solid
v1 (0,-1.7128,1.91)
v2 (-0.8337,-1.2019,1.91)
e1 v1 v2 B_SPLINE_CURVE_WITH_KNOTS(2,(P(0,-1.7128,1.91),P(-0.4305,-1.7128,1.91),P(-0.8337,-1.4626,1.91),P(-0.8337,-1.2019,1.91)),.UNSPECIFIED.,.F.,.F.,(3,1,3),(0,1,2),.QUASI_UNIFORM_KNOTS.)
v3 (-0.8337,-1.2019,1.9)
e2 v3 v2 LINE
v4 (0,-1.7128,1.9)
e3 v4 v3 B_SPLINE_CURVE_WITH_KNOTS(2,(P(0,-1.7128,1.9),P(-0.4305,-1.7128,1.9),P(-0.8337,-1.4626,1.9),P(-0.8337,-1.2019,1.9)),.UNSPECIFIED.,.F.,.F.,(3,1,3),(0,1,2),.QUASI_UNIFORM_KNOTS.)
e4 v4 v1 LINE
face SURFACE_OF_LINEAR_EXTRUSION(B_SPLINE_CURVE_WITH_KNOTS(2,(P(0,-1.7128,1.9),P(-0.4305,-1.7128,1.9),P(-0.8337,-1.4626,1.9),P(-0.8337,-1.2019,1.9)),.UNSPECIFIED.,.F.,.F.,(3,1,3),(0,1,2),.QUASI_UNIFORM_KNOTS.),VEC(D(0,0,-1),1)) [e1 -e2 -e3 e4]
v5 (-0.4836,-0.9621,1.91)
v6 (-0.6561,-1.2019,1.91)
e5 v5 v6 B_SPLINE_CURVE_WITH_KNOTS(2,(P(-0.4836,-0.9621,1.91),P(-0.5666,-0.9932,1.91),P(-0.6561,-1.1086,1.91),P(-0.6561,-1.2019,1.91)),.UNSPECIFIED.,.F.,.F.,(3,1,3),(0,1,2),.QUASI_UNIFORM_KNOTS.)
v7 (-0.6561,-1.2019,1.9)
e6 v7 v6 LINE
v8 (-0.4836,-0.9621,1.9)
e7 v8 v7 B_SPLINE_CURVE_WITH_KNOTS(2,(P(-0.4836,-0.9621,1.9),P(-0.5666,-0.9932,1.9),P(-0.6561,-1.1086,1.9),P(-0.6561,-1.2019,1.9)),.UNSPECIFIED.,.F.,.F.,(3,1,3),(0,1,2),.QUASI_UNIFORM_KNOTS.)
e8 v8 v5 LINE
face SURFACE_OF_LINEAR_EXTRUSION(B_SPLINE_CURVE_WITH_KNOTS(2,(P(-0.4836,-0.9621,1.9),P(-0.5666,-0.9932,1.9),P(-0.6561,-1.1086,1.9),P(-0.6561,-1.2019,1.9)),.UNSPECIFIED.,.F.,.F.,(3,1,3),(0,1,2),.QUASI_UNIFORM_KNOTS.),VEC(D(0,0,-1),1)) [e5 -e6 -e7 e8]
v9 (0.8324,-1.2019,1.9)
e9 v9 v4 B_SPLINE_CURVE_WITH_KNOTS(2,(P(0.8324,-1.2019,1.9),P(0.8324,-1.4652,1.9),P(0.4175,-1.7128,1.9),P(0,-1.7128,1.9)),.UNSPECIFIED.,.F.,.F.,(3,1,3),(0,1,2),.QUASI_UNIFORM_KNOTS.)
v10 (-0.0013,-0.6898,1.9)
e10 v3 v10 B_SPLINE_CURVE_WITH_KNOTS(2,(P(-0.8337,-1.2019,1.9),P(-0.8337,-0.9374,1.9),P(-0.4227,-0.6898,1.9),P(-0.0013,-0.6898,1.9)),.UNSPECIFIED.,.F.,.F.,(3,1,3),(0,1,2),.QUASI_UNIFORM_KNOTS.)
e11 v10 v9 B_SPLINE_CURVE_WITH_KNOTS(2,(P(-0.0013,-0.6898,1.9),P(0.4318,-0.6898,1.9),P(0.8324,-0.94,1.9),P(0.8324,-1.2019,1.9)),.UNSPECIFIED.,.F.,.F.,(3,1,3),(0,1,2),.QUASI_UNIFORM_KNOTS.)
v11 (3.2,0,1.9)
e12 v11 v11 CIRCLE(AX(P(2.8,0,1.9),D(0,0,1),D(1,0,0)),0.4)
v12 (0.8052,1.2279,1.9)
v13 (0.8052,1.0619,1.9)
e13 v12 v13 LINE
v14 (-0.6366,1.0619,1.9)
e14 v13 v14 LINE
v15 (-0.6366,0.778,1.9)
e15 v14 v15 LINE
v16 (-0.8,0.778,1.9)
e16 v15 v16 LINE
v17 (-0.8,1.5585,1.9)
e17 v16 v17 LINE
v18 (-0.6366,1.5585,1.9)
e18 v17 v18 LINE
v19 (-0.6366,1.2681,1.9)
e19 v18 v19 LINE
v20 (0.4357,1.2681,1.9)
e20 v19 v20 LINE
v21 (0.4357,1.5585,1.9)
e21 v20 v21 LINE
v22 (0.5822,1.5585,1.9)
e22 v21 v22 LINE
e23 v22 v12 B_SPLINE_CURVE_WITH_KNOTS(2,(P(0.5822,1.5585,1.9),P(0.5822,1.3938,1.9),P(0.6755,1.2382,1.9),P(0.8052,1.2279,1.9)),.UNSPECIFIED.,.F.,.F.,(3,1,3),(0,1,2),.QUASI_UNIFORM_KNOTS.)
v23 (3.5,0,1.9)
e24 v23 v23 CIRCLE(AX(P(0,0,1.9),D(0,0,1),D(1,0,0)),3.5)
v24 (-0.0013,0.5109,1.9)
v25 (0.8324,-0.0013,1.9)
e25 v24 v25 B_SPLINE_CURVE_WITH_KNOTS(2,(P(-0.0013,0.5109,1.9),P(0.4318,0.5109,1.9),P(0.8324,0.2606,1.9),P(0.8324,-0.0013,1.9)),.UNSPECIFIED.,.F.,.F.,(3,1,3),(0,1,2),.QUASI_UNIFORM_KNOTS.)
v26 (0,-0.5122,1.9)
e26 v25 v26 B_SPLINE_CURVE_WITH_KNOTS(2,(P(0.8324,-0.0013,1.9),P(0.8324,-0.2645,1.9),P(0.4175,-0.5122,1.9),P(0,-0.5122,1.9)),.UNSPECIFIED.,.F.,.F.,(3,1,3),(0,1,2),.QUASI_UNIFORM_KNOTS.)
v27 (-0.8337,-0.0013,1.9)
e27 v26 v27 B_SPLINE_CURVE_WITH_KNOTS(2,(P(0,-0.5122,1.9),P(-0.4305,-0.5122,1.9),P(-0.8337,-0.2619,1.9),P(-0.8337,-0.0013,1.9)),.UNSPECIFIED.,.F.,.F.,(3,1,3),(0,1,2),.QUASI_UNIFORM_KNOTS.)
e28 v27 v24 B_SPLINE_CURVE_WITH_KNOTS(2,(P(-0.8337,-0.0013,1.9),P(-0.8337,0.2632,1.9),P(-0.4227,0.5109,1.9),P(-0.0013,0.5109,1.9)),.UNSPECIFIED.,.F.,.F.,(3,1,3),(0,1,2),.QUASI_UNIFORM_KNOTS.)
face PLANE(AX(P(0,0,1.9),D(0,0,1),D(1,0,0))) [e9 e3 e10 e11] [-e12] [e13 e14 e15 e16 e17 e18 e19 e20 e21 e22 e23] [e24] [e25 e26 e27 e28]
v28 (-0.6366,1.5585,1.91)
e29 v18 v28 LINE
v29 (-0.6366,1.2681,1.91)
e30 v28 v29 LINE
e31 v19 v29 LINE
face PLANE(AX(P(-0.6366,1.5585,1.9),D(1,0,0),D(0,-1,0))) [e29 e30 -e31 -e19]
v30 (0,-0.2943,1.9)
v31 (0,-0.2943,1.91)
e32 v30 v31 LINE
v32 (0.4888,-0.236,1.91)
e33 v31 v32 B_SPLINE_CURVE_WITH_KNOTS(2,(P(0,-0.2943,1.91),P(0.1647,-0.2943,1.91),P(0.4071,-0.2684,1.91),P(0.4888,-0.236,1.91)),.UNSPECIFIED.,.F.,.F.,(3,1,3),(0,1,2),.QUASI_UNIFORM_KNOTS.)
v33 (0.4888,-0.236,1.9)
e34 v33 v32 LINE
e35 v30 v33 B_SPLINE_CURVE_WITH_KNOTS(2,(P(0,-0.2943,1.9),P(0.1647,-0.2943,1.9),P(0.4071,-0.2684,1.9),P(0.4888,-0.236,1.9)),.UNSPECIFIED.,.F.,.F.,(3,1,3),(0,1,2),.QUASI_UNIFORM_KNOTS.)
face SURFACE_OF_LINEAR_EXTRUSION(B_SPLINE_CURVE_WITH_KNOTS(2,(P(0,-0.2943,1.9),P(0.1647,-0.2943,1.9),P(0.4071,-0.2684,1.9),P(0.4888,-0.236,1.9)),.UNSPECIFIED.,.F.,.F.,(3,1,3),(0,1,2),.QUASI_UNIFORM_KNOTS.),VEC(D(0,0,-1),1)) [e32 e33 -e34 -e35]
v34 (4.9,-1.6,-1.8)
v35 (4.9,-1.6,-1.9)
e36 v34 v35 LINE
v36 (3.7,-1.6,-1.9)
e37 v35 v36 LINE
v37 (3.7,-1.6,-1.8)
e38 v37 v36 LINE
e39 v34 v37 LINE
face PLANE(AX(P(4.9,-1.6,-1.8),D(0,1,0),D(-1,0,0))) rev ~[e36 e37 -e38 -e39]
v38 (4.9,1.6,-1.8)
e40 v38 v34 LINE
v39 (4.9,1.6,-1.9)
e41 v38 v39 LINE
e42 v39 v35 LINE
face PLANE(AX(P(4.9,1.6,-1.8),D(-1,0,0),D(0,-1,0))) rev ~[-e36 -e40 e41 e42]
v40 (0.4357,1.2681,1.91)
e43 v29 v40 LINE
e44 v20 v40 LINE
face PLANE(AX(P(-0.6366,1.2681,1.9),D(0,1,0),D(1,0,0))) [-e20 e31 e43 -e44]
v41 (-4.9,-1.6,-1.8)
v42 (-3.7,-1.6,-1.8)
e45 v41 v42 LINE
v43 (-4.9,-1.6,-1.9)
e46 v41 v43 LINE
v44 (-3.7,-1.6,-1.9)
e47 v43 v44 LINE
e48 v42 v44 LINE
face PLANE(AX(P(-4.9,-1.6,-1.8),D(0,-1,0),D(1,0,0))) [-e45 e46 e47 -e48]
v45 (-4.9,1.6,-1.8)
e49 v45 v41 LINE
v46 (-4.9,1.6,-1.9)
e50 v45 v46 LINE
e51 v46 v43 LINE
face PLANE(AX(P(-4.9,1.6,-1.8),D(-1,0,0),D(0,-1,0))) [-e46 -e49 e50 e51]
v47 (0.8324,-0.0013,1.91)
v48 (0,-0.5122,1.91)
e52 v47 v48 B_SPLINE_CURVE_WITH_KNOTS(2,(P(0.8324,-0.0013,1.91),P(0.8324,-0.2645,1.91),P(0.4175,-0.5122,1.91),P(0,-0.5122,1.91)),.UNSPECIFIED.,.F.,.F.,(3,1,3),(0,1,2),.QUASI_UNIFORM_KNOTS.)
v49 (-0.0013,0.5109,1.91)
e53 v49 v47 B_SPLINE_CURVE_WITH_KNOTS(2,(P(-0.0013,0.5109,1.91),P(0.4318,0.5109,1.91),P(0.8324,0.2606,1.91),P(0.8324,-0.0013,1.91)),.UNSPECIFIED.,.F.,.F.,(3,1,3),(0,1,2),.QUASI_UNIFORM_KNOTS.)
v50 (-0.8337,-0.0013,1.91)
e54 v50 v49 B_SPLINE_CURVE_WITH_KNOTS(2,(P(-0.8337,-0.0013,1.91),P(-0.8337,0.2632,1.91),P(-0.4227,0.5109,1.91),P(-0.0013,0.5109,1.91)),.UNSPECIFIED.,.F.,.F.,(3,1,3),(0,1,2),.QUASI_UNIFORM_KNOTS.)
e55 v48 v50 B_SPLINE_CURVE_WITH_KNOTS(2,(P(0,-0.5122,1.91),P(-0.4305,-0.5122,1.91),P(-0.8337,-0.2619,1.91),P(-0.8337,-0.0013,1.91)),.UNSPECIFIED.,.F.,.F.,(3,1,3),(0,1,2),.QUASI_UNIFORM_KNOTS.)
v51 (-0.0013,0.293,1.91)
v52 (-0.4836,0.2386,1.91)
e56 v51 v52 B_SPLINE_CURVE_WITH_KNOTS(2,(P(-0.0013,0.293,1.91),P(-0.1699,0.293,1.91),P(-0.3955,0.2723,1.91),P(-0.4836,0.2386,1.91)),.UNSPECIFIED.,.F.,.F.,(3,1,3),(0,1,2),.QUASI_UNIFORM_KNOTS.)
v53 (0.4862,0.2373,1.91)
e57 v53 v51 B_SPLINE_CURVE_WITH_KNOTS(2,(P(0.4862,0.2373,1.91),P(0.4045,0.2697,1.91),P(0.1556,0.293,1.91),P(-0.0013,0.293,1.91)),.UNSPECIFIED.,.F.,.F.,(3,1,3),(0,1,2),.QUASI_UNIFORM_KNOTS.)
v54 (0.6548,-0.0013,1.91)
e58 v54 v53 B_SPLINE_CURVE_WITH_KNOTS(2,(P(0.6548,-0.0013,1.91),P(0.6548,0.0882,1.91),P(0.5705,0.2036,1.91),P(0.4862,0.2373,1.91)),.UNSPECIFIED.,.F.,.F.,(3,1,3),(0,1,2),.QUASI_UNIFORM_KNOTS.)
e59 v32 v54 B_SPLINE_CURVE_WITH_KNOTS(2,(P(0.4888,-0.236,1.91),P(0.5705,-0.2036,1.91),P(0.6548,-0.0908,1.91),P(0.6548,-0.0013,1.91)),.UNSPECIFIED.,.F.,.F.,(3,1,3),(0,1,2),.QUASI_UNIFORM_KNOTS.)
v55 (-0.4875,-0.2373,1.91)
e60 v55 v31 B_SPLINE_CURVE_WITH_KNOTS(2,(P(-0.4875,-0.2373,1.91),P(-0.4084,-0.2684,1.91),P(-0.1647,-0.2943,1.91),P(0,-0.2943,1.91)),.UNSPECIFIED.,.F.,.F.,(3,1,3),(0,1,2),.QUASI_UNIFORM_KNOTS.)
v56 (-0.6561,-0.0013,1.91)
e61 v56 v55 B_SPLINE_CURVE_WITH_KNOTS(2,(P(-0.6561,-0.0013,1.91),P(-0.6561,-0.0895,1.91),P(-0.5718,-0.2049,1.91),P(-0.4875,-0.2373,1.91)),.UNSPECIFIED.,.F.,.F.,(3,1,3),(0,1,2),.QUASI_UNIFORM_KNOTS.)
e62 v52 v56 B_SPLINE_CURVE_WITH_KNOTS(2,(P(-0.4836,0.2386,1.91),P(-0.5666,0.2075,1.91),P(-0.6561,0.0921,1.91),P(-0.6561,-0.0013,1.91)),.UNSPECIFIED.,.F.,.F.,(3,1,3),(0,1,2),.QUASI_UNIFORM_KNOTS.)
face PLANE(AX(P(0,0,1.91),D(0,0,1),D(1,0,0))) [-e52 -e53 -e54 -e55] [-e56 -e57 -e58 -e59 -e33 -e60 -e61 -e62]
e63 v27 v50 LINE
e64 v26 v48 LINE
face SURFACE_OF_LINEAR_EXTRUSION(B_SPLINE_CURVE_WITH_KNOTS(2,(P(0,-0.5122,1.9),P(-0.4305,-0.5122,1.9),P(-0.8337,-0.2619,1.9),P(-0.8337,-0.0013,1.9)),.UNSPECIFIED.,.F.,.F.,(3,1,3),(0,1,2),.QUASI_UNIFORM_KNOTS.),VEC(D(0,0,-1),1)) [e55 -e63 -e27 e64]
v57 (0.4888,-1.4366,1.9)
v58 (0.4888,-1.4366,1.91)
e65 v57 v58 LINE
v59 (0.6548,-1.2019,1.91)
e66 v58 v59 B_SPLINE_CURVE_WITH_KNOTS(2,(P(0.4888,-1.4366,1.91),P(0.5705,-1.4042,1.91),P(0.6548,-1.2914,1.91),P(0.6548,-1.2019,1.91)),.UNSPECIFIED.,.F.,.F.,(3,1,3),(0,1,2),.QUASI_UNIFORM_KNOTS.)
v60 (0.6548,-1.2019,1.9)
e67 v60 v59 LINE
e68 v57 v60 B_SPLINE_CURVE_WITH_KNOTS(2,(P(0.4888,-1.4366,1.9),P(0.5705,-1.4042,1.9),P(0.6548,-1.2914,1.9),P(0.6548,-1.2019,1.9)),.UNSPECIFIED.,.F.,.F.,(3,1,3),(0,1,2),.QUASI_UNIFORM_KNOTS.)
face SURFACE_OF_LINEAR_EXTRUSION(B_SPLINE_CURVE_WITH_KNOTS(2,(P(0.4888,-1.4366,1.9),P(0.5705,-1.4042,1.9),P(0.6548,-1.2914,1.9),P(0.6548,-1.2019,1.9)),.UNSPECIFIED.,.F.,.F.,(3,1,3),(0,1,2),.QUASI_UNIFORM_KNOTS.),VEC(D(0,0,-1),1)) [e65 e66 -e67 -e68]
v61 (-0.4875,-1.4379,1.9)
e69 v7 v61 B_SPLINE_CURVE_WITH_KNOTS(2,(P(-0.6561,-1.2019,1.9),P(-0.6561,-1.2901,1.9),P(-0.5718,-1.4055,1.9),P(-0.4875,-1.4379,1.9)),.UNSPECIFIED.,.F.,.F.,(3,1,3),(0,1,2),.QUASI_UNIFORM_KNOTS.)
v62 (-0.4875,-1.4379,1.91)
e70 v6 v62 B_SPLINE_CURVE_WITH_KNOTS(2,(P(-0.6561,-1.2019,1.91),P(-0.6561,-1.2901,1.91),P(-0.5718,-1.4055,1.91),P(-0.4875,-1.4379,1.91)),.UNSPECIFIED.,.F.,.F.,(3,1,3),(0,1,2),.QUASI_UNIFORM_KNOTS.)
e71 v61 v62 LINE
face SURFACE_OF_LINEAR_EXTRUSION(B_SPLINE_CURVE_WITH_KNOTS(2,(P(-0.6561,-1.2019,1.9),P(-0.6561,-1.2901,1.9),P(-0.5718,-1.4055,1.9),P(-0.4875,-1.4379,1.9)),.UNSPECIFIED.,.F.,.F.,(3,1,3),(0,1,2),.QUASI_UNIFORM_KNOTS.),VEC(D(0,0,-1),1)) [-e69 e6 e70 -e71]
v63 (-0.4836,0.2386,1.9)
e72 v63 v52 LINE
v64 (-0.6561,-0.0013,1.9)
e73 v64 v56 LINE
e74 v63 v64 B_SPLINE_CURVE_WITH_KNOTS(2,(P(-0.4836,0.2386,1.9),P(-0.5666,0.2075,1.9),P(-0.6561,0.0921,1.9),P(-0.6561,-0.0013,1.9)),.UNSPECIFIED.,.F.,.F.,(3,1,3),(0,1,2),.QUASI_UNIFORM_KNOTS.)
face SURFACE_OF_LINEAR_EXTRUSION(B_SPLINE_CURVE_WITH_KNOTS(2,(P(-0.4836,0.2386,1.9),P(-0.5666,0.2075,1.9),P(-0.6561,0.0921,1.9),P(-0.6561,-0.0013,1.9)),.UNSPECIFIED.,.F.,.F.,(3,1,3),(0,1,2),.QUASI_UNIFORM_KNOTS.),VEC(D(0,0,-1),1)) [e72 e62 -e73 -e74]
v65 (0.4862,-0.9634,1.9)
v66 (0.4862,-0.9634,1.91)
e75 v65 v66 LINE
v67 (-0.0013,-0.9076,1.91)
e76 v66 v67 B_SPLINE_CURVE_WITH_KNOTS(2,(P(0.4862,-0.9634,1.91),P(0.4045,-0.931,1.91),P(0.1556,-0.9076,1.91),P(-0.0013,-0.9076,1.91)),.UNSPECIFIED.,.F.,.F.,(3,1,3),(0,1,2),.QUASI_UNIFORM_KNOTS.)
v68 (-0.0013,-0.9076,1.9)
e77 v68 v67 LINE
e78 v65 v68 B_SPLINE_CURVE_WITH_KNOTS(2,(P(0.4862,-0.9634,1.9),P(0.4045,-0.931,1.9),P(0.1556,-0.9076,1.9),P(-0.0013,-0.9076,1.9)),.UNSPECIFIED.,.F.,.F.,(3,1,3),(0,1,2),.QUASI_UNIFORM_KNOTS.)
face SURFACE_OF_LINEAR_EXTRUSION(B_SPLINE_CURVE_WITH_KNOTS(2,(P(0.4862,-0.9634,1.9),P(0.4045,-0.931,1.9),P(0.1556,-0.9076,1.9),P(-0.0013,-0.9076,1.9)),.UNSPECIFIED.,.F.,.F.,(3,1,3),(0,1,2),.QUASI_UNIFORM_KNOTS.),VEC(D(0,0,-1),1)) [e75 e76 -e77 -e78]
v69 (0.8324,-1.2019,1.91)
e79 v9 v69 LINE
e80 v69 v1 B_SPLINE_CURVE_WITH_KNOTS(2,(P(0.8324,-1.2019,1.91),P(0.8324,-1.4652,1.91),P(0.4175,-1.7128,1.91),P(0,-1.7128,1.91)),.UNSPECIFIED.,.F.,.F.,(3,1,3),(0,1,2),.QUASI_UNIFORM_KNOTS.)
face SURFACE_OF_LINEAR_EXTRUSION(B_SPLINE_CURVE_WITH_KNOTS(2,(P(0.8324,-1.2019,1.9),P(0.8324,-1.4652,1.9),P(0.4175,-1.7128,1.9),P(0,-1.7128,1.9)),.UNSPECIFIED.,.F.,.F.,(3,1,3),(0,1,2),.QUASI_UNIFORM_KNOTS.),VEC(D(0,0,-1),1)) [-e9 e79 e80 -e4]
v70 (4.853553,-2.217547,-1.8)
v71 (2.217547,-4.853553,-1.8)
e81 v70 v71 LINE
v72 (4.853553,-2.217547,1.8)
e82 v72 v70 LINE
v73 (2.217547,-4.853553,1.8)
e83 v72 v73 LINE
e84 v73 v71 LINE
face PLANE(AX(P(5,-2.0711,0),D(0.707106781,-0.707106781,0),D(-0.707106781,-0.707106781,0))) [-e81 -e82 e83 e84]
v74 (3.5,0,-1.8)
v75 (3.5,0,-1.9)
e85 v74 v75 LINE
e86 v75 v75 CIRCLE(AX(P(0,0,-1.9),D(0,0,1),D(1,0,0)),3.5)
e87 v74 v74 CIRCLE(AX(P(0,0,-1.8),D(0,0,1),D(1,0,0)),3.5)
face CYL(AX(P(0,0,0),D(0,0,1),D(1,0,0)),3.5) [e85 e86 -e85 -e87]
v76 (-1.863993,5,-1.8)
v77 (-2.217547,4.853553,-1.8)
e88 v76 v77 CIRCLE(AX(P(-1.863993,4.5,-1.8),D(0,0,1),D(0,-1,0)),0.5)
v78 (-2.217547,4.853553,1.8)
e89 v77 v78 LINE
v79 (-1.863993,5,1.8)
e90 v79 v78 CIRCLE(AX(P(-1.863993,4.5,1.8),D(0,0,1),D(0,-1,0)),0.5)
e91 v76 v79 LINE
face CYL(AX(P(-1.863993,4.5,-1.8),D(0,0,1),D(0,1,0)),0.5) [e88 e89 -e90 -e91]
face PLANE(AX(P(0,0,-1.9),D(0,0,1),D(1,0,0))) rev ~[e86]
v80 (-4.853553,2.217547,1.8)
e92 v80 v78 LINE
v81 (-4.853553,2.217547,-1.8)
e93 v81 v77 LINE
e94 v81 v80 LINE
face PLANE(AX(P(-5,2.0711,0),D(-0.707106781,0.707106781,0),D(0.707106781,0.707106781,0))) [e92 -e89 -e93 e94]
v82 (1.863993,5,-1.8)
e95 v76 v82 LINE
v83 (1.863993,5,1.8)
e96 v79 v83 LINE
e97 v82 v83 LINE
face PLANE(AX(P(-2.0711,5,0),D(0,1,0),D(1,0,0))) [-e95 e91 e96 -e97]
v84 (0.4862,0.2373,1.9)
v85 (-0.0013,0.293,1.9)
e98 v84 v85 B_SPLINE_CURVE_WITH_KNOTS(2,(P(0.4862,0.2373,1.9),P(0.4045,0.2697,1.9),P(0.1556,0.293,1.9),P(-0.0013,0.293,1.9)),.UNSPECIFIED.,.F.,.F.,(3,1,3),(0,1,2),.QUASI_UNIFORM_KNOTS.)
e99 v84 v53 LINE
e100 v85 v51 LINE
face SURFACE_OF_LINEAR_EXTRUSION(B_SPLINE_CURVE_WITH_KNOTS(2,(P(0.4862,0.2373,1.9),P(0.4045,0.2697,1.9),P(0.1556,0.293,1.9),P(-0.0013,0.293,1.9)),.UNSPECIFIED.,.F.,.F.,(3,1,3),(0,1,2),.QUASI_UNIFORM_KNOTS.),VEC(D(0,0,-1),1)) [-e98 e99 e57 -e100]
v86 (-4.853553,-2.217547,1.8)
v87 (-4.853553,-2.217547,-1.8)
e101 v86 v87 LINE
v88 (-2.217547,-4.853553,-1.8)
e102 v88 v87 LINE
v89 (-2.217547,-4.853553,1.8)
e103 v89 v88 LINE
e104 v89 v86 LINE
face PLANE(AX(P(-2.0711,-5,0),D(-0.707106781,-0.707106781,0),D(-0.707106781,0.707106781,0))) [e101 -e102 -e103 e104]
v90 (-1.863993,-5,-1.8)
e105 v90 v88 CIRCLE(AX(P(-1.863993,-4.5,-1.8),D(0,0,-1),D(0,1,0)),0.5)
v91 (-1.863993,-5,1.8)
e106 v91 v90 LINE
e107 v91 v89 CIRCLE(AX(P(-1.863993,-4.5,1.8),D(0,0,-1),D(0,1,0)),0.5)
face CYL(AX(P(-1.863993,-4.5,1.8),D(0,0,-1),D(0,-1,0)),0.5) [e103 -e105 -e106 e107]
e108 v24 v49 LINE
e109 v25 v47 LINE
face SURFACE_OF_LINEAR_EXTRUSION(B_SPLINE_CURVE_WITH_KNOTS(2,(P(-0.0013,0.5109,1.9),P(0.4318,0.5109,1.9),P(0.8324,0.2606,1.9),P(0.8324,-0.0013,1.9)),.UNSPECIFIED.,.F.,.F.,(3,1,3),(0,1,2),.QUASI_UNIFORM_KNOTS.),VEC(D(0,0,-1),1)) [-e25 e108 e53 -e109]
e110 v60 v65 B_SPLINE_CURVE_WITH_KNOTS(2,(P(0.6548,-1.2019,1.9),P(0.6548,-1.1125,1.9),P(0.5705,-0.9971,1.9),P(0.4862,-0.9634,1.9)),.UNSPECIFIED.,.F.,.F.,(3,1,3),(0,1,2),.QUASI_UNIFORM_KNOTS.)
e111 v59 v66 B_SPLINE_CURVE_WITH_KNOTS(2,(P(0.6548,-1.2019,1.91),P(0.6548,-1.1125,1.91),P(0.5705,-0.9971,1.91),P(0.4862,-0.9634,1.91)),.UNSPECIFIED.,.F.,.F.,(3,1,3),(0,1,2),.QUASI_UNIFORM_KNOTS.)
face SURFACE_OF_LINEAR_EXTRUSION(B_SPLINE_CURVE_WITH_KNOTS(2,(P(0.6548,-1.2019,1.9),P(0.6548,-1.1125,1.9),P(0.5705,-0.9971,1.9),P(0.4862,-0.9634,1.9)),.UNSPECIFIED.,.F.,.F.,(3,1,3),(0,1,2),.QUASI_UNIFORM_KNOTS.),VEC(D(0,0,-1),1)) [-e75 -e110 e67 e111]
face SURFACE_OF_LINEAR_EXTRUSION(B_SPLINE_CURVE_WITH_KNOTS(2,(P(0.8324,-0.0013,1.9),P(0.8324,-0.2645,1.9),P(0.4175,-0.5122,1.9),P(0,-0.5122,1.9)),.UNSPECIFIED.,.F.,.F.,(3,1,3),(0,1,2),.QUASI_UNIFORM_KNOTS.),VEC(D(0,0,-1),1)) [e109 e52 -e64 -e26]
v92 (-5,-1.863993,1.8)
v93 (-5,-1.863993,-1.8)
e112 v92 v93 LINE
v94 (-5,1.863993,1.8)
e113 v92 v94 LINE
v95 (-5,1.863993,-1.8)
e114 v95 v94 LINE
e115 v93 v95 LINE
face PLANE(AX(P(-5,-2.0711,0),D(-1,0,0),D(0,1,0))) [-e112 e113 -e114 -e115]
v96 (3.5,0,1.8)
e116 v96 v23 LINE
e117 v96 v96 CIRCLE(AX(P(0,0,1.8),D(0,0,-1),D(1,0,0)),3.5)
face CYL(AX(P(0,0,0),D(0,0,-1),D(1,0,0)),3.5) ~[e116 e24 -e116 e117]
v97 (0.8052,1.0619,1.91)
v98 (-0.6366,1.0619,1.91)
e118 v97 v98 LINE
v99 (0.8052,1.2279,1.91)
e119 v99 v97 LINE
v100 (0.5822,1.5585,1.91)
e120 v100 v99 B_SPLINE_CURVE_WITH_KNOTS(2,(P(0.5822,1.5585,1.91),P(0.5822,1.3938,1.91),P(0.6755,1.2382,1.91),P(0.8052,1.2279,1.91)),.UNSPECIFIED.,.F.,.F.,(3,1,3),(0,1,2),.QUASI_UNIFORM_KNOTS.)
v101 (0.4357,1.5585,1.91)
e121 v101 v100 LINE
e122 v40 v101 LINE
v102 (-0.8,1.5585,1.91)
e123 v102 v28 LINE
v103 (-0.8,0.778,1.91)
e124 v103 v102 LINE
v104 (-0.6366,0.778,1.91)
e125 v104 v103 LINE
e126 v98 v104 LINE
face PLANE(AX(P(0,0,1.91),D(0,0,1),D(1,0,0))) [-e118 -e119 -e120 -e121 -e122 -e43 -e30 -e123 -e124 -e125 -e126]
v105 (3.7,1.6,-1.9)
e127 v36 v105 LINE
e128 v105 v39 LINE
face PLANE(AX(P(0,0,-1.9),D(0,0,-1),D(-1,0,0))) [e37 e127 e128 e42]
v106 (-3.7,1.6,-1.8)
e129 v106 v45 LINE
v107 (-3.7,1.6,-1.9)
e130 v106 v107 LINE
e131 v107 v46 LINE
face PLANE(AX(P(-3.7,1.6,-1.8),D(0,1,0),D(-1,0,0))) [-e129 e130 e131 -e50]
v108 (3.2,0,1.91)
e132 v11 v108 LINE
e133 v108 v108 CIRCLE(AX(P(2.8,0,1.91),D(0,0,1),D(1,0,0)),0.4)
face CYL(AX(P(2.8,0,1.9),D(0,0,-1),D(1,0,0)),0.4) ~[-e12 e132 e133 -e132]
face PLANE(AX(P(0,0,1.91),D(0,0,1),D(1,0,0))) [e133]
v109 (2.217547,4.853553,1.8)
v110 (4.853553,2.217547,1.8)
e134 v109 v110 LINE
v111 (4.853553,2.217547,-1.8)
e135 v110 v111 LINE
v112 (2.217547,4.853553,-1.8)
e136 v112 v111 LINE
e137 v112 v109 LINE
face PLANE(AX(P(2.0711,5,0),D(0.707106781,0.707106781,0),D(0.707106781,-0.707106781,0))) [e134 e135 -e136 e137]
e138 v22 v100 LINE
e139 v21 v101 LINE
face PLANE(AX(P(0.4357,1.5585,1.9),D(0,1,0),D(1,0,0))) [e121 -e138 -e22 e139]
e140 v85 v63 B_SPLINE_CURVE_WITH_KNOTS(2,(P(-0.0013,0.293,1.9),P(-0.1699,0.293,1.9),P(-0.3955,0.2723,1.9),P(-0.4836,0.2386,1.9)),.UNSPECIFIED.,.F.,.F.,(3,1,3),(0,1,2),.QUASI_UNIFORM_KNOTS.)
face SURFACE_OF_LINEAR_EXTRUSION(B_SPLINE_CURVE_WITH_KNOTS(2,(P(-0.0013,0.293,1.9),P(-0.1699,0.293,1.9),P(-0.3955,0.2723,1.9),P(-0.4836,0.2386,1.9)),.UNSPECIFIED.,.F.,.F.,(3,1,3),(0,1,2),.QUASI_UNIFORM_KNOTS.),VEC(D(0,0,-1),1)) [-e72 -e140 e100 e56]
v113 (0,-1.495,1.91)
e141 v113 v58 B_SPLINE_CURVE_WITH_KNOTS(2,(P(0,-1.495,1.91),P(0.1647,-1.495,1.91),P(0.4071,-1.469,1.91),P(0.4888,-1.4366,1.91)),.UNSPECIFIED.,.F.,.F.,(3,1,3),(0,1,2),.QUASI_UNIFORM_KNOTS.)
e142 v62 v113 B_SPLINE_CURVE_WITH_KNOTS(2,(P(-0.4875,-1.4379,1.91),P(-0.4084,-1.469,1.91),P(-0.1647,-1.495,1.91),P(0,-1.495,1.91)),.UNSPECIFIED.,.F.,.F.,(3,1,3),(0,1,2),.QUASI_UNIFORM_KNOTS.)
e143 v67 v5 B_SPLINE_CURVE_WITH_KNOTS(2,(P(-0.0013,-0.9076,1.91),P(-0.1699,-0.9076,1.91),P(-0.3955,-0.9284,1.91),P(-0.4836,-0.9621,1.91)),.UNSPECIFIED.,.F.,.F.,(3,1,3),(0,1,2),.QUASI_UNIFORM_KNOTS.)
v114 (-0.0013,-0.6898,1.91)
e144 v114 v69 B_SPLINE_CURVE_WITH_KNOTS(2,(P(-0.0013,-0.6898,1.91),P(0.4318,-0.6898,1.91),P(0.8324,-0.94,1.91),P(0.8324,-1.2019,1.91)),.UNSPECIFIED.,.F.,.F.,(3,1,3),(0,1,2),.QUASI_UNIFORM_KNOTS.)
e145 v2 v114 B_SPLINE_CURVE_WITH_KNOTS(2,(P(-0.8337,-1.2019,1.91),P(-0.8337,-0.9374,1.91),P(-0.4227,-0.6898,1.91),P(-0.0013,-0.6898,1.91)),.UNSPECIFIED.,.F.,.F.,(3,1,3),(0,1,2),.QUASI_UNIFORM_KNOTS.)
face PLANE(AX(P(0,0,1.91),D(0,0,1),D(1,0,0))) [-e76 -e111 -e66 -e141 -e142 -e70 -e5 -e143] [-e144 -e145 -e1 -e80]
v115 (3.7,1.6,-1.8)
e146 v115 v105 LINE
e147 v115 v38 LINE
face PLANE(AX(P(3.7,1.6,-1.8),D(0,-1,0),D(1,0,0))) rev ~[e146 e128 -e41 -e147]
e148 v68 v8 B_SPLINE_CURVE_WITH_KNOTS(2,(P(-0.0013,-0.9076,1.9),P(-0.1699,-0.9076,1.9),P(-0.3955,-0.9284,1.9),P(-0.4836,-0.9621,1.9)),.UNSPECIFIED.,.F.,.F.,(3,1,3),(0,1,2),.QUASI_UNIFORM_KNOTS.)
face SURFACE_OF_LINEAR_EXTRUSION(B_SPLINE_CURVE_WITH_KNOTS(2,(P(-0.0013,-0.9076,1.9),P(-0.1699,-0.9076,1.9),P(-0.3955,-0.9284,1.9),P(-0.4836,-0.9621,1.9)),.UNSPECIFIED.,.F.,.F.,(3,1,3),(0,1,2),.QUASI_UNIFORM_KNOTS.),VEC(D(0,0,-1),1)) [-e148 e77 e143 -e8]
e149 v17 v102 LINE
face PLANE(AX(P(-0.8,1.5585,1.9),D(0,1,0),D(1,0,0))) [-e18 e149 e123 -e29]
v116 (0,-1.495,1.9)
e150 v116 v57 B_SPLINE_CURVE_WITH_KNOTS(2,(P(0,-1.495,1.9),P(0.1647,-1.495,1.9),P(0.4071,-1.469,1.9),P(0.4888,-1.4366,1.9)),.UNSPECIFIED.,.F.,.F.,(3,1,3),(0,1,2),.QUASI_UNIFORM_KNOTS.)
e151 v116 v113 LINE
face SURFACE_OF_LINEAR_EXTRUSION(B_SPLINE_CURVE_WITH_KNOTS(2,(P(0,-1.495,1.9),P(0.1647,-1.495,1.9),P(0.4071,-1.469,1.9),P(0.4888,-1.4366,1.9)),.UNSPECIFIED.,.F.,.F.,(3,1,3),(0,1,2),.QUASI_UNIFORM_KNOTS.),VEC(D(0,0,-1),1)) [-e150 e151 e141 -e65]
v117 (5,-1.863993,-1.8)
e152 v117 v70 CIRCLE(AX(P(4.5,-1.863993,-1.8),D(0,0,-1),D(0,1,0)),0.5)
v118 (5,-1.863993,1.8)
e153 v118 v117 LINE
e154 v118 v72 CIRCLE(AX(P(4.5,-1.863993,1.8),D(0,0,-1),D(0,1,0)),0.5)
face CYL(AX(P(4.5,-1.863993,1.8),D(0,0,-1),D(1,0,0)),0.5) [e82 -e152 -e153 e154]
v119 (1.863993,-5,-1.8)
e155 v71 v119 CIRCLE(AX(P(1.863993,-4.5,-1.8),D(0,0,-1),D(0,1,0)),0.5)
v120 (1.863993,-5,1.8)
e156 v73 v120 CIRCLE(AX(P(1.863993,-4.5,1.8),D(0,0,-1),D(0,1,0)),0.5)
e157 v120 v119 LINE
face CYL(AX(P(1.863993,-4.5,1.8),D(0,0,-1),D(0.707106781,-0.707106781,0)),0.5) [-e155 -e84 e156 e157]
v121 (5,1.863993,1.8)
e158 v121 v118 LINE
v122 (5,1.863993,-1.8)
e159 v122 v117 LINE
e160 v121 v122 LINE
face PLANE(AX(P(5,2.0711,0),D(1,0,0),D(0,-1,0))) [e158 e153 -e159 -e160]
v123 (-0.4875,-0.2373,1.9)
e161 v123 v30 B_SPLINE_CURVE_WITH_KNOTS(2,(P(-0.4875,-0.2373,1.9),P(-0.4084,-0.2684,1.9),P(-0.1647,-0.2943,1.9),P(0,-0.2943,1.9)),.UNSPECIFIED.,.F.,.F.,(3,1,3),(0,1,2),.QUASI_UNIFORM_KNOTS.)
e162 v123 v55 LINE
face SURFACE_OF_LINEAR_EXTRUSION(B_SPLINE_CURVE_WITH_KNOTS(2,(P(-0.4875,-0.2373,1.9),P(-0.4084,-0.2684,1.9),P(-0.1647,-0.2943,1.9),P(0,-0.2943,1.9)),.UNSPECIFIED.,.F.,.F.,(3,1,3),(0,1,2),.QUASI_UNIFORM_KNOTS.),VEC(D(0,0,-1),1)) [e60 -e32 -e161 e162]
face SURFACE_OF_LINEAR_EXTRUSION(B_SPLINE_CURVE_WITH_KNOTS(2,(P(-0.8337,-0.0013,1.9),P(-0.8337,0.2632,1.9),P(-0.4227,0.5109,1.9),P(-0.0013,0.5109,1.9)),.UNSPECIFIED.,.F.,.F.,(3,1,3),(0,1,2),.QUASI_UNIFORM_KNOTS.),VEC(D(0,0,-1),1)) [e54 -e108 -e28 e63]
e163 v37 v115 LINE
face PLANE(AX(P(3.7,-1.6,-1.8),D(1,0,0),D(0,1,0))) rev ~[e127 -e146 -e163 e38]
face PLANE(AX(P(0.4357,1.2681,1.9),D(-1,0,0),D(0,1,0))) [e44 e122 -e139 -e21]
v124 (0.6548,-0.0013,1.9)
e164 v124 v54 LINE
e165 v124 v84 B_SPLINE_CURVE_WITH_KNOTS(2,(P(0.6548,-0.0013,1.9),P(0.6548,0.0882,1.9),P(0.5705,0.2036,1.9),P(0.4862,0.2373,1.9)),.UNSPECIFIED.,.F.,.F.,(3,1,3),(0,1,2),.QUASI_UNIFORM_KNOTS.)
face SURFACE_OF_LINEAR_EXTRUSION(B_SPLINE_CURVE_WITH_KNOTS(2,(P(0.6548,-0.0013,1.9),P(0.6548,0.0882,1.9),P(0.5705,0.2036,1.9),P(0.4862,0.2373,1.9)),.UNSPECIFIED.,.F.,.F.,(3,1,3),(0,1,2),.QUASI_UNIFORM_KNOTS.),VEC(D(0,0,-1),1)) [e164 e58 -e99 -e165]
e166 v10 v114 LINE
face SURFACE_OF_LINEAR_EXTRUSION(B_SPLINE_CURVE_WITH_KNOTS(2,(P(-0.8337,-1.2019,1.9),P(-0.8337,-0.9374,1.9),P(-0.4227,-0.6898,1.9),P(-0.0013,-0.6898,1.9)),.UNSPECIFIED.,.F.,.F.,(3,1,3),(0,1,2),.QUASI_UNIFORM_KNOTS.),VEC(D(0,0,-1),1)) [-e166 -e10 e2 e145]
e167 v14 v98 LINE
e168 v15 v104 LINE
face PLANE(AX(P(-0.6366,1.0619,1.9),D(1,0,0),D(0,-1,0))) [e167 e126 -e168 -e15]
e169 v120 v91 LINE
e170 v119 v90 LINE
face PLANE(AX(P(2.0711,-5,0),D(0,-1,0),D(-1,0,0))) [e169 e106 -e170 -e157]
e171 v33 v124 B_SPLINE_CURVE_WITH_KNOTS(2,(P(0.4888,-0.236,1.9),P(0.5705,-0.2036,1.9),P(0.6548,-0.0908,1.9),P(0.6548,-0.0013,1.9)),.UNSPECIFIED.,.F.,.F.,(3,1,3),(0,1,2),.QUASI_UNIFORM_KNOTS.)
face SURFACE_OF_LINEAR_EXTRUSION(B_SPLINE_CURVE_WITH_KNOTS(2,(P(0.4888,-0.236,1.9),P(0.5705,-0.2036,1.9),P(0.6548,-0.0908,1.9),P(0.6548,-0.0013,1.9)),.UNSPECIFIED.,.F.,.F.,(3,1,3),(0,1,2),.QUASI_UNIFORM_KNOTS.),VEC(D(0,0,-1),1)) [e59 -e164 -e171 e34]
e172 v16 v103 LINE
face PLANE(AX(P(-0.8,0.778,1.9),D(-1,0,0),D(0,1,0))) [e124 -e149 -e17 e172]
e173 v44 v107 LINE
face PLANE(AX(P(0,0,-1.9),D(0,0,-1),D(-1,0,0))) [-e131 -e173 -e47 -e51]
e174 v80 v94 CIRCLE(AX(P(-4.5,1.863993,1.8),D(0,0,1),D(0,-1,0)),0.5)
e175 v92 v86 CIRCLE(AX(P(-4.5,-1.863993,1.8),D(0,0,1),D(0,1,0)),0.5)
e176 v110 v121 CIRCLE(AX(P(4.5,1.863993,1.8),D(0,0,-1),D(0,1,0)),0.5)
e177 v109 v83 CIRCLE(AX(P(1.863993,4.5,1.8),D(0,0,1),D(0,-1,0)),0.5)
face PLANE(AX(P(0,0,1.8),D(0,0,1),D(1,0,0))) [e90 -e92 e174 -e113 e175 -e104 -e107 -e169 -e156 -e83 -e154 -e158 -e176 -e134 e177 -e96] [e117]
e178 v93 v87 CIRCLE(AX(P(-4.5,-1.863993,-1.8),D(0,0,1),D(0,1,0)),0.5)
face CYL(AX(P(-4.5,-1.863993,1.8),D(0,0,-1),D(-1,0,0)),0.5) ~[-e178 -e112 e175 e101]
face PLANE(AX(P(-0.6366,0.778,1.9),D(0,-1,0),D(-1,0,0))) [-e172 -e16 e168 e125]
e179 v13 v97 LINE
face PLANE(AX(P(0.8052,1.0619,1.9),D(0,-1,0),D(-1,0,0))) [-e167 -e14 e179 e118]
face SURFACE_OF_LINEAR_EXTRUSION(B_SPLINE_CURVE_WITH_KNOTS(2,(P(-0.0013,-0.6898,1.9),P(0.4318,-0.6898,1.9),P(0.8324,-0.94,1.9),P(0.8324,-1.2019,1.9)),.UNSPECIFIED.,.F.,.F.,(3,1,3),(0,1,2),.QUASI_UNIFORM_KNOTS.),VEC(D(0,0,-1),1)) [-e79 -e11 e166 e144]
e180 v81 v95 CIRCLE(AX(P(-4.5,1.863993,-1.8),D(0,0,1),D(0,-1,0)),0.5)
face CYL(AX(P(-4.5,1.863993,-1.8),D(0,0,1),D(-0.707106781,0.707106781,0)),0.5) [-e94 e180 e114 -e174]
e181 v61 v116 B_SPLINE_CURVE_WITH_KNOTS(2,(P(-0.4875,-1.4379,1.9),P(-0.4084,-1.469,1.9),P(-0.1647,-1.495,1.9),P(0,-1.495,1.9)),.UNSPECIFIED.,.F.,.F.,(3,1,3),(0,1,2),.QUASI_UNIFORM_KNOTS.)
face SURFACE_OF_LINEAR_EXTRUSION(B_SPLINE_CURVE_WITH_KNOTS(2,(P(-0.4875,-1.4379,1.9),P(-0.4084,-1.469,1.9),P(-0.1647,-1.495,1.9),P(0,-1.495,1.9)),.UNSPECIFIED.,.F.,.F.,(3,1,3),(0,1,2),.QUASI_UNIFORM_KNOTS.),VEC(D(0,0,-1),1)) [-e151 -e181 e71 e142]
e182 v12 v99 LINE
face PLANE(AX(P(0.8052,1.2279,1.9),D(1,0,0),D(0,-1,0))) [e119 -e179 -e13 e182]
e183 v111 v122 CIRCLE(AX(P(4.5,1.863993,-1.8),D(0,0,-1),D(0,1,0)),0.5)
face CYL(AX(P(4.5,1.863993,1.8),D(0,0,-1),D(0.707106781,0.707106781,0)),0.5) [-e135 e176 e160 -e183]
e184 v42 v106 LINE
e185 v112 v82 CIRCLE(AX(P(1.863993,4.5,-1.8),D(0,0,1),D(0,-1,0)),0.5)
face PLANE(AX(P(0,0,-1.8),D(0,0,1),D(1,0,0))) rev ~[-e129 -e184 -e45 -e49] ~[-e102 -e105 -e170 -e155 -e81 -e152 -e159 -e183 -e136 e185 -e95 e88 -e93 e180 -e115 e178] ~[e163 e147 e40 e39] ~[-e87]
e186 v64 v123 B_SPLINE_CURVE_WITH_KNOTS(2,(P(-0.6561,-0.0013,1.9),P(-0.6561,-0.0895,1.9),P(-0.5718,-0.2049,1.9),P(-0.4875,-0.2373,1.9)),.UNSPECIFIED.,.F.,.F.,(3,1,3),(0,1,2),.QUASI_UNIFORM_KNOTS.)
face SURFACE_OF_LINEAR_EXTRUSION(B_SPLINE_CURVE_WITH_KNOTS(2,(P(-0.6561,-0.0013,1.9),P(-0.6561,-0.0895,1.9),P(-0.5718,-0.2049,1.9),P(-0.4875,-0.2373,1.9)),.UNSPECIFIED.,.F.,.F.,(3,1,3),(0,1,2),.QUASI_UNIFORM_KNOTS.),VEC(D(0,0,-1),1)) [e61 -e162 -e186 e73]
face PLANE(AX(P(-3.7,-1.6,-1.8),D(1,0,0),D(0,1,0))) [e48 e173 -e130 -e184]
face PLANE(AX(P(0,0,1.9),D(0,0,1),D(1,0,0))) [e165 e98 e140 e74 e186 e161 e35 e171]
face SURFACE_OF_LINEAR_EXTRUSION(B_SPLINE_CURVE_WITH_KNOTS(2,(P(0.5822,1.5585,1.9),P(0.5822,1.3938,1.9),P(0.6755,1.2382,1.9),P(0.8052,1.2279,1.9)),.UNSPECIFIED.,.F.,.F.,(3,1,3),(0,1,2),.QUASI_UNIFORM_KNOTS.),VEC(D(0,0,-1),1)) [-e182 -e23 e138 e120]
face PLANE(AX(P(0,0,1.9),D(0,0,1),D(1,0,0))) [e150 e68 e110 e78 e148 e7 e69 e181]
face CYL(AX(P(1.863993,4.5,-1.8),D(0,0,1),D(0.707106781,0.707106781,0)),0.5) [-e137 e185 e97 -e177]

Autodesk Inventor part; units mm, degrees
ref_plane "YZ Plane" through (0, 0, 0) normal (1, 0, 0) x (0, 1, 0)
ref_plane "XZ Plane" through (0, 0, 0) normal (0, 1, 0) x (-1, 0, 0)
ref_plane "XY Plane" through (0, 0, 0) normal (0, 0, 1) x (1, 0, 0)
sketch "Sketch1" plane through (0, 0, 0) normal (0, 0, 1) x (1, 0, 0)
  circle A0 centre (0, 0) radius 3.5
  dimension "d0" = 7
extrude "Extrusion1" add sketch "Sketch1" along normal mid plane 3.8
sketch "Sketch2" plane through (0, 0, 0) normal (0, 0, 1) x (1, 0, 0)
  line L0 (2.0711, 5) -> (5, 2.0711)
  line L1 (5, 2.0711) -> (5, -2.0711)
  line L2 (5, -2.0711) -> (2.0711, -5)
  line L3 (2.0711, -5) -> (-2.0711, -5)
  line L4 (-2.0711, -5) -> (-5, -2.0711)
  line L5 (-5, -2.0711) -> (-5, 2.0711)
  line L6 (-5, 2.0711) -> (-2.0711, 5)
  line L7 (-2.0711, 5) -> (2.0711, 5)
  point P0 (0, 0)
  point P1 (0, 0)
  dimension "d3" = 10
extrude "Extrusion2" add sketch "Sketch2" along normal mid plane 3.6
sketch "Sketch3" plane through (0, 0, -1.8) normal (0, 0, -1) x (-1, 0, 0)
  line L0 (-2.0711, 5) -> (-5, 2.0711) projected
  line L1 (-5, 2.0711) -> (-5, -2.0711) projected
  line L2 (-5, -2.0711) -> (-2.0711, -5) projected
  line L3 (-2.0711, -5) -> (2.0711, -5) projected
  line L4 (2.0711, -5) -> (5, -2.0711) projected
  line L5 (5, -2.0711) -> (5, 2.0711) projected
  line L6 (5, 2.0711) -> (2.0711, 5) projected
  line L7 (2.0711, 5) -> (-2.0711, 5) projected
  circle A0 centre (0, 0) radius 3.5 projected
  line L8 (-4.9, -1.6) -> (-3.7, -1.6)
  line L9 (-3.7, -1.6) -> (-3.7, 1.6)
  line L10 (-3.7, 1.6) -> (-4.9, 1.6)
  line L11 (-4.9, 1.6) -> (-4.9, -1.6)
  line L12 (4.9, -1.6) -> (3.7, -1.6)
  line L13 (3.7, -1.6) -> (3.7, 1.6)
  line L14 (3.7, 1.6) -> (4.9, 1.6)
  line L15 (4.9, 1.6) -> (4.9, -1.6)
  point P0 (-4.9, 0)
  point P1 (-5, 0)
  dimension "d6" = 3.2
  dimension "d7" = 0.1
  dimension "d8" = 0.1
  dimension "d9" = 7.4
extrude "Extrusion3" add sketch "Sketch3" along normal blind 0.1 contours L11 L10 L9 L8 | L12 L13 L14 L15
sketch "Sketch4" plane through (0, 0, 1.9) normal (0, 0, 1) x (1, 0, 0)
  circle A0 centre (0, 0) radius 3.5 projected
  circle A1 centre (2.8, 0) radius 0.4
  circle A2 centre (0, 0) radius 3.5 construction
  line L0 (0, 3.5) -> (0, -3.5) construction
  line L1 (-0.8, 0.778) -> (-0.8, 1.5585)
  line L2 (-0.8, 1.5585) -> (-0.6366, 1.5585)
  line L3 (-0.6366, 1.5585) -> (-0.6366, 1.2681)
  line L4 (-0.6366, 1.2681) -> (0.4357, 1.2681)
  line L5 (0.4357, 1.2681) -> (0.4357, 1.5585)
  line L6 (0.4357, 1.5585) -> (0.5822, 1.5585)
  spline S0 degree 2 poles (0.5822, 1.5585) (0.5822, 1.3938) (0.6755, 1.2382) (0.8052, 1.2279) knots 0 0 0 1 2 2 2
  line L7 (0.8052, 1.2279) -> (0.8052, 1.0619)
  line L8 (0.8052, 1.0619) -> (-0.6366, 1.0619)
  line L9 (-0.6366, 1.0619) -> (-0.6366, 0.778)
  line L10 (-0.6366, 0.778) -> (-0.8, 0.778)
  spline S1 degree 2 poles (0, -0.5122) (-0.4305, -0.5122) (-0.8337, -0.2619) (-0.8337, -0.0013) knots 0 0 0 1 2 2 2
  spline S2 degree 2 poles (-0.8337, -0.0013) (-0.8337, 0.2632) (-0.4227, 0.5109) (-0.0013, 0.5109) knots 0 0 0 1 2 2 2
  spline S3 degree 2 poles (-0.0013, 0.5109) (0.4318, 0.5109) (0.8324, 0.2606) (0.8324, -0.0013) knots 0 0 0 1 2 2 2
  spline S4 degree 2 poles (0.8324, -0.0013) (0.8324, -0.2645) (0.4175, -0.5122) (0, -0.5122) knots 0 0 0 1 2 2 2
  spline S5 degree 2 poles (-0.4875, -0.2373) (-0.4084, -0.2684) (-0.1647, -0.2943) (0, -0.2943) knots 0 0 0 1 2 2 2
  spline S6 degree 2 poles (0, -0.2943) (0.1647, -0.2943) (0.4071, -0.2684) (0.4888, -0.236) knots 0 0 0 1 2 2 2
  spline S7 degree 2 poles (0.4888, -0.236) (0.5705, -0.2036) (0.6548, -0.0908) (0.6548, -0.0013) knots 0 0 0 1 2 2 2
  spline S8 degree 2 poles (0.6548, -0.0013) (0.6548, 0.0882) (0.5705, 0.2036) (0.4862, 0.2373) knots 0 0 0 1 2 2 2
  spline S9 degree 2 poles (0.4862, 0.2373) (0.4045, 0.2697) (0.1556, 0.293) (-0.0013, 0.293) knots 0 0 0 1 2 2 2
  spline S10 degree 2 poles (-0.0013, 0.293) (-0.1699, 0.293) (-0.3955, 0.2723) (-0.4836, 0.2386) knots 0 0 0 1 2 2 2
  spline S11 degree 2 poles (-0.4836, 0.2386) (-0.5666, 0.2075) (-0.6561, 0.0921) (-0.6561, -0.0013) knots 0 0 0 1 2 2 2
  spline S12 degree 2 poles (-0.6561, -0.0013) (-0.6561, -0.0895) (-0.5718, -0.2049) (-0.4875, -0.2373) knots 0 0 0 1 2 2 2
  spline S13 degree 2 poles (0, -1.7128) (-0.4305, -1.7128) (-0.8337, -1.4626) (-0.8337, -1.2019) knots 0 0 0 1 2 2 2
  spline S14 degree 2 poles (-0.8337, -1.2019) (-0.8337, -0.9374) (-0.4227, -0.6898) (-0.0013, -0.6898) knots 0 0 0 1 2 2 2
  spline S15 degree 2 poles (-0.0013, -0.6898) (0.4318, -0.6898) (0.8324, -0.94) (0.8324, -1.2019) knots 0 0 0 1 2 2 2
  spline S16 degree 2 poles (0.8324, -1.2019) (0.8324, -1.4652) (0.4175, -1.7128) (0, -1.7128) knots 0 0 0 1 2 2 2
  spline S17 degree 2 poles (-0.4875, -1.4379) (-0.4084, -1.469) (-0.1647, -1.495) (0, -1.495) knots 0 0 0 1 2 2 2
  spline S18 degree 2 poles (0, -1.495) (0.1647, -1.495) (0.4071, -1.469) (0.4888, -1.4366) knots 0 0 0 1 2 2 2
  spline S19 degree 2 poles (0.4888, -1.4366) (0.5705, -1.4042) (0.6548, -1.2914) (0.6548, -1.2019) knots 0 0 0 1 2 2 2
  spline S20 degree 2 poles (0.6548, -1.2019) (0.6548, -1.1125) (0.5705, -0.9971) (0.4862, -0.9634) knots 0 0 0 1 2 2 2
  spline S21 degree 2 poles (0.4862, -0.9634) (0.4045, -0.931) (0.1556, -0.9076) (-0.0013, -0.9076) knots 0 0 0 1 2 2 2
  spline S22 degree 2 poles (-0.0013, -0.9076) (-0.1699, -0.9076) (-0.3955, -0.9284) (-0.4836, -0.9621) knots 0 0 0 1 2 2 2
  spline S23 degree 2 poles (-0.4836, -0.9621) (-0.5666, -0.9932) (-0.6561, -1.1086) (-0.6561, -1.2019) knots 0 0 0 1 2 2 2
  spline S24 degree 2 poles (-0.6561, -1.2019) (-0.6561, -1.2901) (-0.5718, -1.4055) (-0.4875, -1.4379) knots 0 0 0 1 2 2 2
  dimension "d12" = 0.8
  dimension "d13" = 2.8
extrude "Extrusion4" add sketch "Sketch4" along normal blind 0.01 contours A1 | L1 L2 L3 L4 L5 L6 S0 L7 L8 L9 L10 | S1 S2 S3 S4 | S13 S14 S15 S16
fillet "Fillet1" radius 0.5 8 edges at (-2.0711, -5, 0) (2.0711, -5, 0) (5, -2.0711, 0) (5, 2.0711, 0) (2.0711, 5, 0) (-2.0711, 5, 0) (-5, 2.0711, 0) (-5, -2.0711, 0)
equation "\"d8\" = d7"
properties part number "34-103B" material "Iron, Cast"
